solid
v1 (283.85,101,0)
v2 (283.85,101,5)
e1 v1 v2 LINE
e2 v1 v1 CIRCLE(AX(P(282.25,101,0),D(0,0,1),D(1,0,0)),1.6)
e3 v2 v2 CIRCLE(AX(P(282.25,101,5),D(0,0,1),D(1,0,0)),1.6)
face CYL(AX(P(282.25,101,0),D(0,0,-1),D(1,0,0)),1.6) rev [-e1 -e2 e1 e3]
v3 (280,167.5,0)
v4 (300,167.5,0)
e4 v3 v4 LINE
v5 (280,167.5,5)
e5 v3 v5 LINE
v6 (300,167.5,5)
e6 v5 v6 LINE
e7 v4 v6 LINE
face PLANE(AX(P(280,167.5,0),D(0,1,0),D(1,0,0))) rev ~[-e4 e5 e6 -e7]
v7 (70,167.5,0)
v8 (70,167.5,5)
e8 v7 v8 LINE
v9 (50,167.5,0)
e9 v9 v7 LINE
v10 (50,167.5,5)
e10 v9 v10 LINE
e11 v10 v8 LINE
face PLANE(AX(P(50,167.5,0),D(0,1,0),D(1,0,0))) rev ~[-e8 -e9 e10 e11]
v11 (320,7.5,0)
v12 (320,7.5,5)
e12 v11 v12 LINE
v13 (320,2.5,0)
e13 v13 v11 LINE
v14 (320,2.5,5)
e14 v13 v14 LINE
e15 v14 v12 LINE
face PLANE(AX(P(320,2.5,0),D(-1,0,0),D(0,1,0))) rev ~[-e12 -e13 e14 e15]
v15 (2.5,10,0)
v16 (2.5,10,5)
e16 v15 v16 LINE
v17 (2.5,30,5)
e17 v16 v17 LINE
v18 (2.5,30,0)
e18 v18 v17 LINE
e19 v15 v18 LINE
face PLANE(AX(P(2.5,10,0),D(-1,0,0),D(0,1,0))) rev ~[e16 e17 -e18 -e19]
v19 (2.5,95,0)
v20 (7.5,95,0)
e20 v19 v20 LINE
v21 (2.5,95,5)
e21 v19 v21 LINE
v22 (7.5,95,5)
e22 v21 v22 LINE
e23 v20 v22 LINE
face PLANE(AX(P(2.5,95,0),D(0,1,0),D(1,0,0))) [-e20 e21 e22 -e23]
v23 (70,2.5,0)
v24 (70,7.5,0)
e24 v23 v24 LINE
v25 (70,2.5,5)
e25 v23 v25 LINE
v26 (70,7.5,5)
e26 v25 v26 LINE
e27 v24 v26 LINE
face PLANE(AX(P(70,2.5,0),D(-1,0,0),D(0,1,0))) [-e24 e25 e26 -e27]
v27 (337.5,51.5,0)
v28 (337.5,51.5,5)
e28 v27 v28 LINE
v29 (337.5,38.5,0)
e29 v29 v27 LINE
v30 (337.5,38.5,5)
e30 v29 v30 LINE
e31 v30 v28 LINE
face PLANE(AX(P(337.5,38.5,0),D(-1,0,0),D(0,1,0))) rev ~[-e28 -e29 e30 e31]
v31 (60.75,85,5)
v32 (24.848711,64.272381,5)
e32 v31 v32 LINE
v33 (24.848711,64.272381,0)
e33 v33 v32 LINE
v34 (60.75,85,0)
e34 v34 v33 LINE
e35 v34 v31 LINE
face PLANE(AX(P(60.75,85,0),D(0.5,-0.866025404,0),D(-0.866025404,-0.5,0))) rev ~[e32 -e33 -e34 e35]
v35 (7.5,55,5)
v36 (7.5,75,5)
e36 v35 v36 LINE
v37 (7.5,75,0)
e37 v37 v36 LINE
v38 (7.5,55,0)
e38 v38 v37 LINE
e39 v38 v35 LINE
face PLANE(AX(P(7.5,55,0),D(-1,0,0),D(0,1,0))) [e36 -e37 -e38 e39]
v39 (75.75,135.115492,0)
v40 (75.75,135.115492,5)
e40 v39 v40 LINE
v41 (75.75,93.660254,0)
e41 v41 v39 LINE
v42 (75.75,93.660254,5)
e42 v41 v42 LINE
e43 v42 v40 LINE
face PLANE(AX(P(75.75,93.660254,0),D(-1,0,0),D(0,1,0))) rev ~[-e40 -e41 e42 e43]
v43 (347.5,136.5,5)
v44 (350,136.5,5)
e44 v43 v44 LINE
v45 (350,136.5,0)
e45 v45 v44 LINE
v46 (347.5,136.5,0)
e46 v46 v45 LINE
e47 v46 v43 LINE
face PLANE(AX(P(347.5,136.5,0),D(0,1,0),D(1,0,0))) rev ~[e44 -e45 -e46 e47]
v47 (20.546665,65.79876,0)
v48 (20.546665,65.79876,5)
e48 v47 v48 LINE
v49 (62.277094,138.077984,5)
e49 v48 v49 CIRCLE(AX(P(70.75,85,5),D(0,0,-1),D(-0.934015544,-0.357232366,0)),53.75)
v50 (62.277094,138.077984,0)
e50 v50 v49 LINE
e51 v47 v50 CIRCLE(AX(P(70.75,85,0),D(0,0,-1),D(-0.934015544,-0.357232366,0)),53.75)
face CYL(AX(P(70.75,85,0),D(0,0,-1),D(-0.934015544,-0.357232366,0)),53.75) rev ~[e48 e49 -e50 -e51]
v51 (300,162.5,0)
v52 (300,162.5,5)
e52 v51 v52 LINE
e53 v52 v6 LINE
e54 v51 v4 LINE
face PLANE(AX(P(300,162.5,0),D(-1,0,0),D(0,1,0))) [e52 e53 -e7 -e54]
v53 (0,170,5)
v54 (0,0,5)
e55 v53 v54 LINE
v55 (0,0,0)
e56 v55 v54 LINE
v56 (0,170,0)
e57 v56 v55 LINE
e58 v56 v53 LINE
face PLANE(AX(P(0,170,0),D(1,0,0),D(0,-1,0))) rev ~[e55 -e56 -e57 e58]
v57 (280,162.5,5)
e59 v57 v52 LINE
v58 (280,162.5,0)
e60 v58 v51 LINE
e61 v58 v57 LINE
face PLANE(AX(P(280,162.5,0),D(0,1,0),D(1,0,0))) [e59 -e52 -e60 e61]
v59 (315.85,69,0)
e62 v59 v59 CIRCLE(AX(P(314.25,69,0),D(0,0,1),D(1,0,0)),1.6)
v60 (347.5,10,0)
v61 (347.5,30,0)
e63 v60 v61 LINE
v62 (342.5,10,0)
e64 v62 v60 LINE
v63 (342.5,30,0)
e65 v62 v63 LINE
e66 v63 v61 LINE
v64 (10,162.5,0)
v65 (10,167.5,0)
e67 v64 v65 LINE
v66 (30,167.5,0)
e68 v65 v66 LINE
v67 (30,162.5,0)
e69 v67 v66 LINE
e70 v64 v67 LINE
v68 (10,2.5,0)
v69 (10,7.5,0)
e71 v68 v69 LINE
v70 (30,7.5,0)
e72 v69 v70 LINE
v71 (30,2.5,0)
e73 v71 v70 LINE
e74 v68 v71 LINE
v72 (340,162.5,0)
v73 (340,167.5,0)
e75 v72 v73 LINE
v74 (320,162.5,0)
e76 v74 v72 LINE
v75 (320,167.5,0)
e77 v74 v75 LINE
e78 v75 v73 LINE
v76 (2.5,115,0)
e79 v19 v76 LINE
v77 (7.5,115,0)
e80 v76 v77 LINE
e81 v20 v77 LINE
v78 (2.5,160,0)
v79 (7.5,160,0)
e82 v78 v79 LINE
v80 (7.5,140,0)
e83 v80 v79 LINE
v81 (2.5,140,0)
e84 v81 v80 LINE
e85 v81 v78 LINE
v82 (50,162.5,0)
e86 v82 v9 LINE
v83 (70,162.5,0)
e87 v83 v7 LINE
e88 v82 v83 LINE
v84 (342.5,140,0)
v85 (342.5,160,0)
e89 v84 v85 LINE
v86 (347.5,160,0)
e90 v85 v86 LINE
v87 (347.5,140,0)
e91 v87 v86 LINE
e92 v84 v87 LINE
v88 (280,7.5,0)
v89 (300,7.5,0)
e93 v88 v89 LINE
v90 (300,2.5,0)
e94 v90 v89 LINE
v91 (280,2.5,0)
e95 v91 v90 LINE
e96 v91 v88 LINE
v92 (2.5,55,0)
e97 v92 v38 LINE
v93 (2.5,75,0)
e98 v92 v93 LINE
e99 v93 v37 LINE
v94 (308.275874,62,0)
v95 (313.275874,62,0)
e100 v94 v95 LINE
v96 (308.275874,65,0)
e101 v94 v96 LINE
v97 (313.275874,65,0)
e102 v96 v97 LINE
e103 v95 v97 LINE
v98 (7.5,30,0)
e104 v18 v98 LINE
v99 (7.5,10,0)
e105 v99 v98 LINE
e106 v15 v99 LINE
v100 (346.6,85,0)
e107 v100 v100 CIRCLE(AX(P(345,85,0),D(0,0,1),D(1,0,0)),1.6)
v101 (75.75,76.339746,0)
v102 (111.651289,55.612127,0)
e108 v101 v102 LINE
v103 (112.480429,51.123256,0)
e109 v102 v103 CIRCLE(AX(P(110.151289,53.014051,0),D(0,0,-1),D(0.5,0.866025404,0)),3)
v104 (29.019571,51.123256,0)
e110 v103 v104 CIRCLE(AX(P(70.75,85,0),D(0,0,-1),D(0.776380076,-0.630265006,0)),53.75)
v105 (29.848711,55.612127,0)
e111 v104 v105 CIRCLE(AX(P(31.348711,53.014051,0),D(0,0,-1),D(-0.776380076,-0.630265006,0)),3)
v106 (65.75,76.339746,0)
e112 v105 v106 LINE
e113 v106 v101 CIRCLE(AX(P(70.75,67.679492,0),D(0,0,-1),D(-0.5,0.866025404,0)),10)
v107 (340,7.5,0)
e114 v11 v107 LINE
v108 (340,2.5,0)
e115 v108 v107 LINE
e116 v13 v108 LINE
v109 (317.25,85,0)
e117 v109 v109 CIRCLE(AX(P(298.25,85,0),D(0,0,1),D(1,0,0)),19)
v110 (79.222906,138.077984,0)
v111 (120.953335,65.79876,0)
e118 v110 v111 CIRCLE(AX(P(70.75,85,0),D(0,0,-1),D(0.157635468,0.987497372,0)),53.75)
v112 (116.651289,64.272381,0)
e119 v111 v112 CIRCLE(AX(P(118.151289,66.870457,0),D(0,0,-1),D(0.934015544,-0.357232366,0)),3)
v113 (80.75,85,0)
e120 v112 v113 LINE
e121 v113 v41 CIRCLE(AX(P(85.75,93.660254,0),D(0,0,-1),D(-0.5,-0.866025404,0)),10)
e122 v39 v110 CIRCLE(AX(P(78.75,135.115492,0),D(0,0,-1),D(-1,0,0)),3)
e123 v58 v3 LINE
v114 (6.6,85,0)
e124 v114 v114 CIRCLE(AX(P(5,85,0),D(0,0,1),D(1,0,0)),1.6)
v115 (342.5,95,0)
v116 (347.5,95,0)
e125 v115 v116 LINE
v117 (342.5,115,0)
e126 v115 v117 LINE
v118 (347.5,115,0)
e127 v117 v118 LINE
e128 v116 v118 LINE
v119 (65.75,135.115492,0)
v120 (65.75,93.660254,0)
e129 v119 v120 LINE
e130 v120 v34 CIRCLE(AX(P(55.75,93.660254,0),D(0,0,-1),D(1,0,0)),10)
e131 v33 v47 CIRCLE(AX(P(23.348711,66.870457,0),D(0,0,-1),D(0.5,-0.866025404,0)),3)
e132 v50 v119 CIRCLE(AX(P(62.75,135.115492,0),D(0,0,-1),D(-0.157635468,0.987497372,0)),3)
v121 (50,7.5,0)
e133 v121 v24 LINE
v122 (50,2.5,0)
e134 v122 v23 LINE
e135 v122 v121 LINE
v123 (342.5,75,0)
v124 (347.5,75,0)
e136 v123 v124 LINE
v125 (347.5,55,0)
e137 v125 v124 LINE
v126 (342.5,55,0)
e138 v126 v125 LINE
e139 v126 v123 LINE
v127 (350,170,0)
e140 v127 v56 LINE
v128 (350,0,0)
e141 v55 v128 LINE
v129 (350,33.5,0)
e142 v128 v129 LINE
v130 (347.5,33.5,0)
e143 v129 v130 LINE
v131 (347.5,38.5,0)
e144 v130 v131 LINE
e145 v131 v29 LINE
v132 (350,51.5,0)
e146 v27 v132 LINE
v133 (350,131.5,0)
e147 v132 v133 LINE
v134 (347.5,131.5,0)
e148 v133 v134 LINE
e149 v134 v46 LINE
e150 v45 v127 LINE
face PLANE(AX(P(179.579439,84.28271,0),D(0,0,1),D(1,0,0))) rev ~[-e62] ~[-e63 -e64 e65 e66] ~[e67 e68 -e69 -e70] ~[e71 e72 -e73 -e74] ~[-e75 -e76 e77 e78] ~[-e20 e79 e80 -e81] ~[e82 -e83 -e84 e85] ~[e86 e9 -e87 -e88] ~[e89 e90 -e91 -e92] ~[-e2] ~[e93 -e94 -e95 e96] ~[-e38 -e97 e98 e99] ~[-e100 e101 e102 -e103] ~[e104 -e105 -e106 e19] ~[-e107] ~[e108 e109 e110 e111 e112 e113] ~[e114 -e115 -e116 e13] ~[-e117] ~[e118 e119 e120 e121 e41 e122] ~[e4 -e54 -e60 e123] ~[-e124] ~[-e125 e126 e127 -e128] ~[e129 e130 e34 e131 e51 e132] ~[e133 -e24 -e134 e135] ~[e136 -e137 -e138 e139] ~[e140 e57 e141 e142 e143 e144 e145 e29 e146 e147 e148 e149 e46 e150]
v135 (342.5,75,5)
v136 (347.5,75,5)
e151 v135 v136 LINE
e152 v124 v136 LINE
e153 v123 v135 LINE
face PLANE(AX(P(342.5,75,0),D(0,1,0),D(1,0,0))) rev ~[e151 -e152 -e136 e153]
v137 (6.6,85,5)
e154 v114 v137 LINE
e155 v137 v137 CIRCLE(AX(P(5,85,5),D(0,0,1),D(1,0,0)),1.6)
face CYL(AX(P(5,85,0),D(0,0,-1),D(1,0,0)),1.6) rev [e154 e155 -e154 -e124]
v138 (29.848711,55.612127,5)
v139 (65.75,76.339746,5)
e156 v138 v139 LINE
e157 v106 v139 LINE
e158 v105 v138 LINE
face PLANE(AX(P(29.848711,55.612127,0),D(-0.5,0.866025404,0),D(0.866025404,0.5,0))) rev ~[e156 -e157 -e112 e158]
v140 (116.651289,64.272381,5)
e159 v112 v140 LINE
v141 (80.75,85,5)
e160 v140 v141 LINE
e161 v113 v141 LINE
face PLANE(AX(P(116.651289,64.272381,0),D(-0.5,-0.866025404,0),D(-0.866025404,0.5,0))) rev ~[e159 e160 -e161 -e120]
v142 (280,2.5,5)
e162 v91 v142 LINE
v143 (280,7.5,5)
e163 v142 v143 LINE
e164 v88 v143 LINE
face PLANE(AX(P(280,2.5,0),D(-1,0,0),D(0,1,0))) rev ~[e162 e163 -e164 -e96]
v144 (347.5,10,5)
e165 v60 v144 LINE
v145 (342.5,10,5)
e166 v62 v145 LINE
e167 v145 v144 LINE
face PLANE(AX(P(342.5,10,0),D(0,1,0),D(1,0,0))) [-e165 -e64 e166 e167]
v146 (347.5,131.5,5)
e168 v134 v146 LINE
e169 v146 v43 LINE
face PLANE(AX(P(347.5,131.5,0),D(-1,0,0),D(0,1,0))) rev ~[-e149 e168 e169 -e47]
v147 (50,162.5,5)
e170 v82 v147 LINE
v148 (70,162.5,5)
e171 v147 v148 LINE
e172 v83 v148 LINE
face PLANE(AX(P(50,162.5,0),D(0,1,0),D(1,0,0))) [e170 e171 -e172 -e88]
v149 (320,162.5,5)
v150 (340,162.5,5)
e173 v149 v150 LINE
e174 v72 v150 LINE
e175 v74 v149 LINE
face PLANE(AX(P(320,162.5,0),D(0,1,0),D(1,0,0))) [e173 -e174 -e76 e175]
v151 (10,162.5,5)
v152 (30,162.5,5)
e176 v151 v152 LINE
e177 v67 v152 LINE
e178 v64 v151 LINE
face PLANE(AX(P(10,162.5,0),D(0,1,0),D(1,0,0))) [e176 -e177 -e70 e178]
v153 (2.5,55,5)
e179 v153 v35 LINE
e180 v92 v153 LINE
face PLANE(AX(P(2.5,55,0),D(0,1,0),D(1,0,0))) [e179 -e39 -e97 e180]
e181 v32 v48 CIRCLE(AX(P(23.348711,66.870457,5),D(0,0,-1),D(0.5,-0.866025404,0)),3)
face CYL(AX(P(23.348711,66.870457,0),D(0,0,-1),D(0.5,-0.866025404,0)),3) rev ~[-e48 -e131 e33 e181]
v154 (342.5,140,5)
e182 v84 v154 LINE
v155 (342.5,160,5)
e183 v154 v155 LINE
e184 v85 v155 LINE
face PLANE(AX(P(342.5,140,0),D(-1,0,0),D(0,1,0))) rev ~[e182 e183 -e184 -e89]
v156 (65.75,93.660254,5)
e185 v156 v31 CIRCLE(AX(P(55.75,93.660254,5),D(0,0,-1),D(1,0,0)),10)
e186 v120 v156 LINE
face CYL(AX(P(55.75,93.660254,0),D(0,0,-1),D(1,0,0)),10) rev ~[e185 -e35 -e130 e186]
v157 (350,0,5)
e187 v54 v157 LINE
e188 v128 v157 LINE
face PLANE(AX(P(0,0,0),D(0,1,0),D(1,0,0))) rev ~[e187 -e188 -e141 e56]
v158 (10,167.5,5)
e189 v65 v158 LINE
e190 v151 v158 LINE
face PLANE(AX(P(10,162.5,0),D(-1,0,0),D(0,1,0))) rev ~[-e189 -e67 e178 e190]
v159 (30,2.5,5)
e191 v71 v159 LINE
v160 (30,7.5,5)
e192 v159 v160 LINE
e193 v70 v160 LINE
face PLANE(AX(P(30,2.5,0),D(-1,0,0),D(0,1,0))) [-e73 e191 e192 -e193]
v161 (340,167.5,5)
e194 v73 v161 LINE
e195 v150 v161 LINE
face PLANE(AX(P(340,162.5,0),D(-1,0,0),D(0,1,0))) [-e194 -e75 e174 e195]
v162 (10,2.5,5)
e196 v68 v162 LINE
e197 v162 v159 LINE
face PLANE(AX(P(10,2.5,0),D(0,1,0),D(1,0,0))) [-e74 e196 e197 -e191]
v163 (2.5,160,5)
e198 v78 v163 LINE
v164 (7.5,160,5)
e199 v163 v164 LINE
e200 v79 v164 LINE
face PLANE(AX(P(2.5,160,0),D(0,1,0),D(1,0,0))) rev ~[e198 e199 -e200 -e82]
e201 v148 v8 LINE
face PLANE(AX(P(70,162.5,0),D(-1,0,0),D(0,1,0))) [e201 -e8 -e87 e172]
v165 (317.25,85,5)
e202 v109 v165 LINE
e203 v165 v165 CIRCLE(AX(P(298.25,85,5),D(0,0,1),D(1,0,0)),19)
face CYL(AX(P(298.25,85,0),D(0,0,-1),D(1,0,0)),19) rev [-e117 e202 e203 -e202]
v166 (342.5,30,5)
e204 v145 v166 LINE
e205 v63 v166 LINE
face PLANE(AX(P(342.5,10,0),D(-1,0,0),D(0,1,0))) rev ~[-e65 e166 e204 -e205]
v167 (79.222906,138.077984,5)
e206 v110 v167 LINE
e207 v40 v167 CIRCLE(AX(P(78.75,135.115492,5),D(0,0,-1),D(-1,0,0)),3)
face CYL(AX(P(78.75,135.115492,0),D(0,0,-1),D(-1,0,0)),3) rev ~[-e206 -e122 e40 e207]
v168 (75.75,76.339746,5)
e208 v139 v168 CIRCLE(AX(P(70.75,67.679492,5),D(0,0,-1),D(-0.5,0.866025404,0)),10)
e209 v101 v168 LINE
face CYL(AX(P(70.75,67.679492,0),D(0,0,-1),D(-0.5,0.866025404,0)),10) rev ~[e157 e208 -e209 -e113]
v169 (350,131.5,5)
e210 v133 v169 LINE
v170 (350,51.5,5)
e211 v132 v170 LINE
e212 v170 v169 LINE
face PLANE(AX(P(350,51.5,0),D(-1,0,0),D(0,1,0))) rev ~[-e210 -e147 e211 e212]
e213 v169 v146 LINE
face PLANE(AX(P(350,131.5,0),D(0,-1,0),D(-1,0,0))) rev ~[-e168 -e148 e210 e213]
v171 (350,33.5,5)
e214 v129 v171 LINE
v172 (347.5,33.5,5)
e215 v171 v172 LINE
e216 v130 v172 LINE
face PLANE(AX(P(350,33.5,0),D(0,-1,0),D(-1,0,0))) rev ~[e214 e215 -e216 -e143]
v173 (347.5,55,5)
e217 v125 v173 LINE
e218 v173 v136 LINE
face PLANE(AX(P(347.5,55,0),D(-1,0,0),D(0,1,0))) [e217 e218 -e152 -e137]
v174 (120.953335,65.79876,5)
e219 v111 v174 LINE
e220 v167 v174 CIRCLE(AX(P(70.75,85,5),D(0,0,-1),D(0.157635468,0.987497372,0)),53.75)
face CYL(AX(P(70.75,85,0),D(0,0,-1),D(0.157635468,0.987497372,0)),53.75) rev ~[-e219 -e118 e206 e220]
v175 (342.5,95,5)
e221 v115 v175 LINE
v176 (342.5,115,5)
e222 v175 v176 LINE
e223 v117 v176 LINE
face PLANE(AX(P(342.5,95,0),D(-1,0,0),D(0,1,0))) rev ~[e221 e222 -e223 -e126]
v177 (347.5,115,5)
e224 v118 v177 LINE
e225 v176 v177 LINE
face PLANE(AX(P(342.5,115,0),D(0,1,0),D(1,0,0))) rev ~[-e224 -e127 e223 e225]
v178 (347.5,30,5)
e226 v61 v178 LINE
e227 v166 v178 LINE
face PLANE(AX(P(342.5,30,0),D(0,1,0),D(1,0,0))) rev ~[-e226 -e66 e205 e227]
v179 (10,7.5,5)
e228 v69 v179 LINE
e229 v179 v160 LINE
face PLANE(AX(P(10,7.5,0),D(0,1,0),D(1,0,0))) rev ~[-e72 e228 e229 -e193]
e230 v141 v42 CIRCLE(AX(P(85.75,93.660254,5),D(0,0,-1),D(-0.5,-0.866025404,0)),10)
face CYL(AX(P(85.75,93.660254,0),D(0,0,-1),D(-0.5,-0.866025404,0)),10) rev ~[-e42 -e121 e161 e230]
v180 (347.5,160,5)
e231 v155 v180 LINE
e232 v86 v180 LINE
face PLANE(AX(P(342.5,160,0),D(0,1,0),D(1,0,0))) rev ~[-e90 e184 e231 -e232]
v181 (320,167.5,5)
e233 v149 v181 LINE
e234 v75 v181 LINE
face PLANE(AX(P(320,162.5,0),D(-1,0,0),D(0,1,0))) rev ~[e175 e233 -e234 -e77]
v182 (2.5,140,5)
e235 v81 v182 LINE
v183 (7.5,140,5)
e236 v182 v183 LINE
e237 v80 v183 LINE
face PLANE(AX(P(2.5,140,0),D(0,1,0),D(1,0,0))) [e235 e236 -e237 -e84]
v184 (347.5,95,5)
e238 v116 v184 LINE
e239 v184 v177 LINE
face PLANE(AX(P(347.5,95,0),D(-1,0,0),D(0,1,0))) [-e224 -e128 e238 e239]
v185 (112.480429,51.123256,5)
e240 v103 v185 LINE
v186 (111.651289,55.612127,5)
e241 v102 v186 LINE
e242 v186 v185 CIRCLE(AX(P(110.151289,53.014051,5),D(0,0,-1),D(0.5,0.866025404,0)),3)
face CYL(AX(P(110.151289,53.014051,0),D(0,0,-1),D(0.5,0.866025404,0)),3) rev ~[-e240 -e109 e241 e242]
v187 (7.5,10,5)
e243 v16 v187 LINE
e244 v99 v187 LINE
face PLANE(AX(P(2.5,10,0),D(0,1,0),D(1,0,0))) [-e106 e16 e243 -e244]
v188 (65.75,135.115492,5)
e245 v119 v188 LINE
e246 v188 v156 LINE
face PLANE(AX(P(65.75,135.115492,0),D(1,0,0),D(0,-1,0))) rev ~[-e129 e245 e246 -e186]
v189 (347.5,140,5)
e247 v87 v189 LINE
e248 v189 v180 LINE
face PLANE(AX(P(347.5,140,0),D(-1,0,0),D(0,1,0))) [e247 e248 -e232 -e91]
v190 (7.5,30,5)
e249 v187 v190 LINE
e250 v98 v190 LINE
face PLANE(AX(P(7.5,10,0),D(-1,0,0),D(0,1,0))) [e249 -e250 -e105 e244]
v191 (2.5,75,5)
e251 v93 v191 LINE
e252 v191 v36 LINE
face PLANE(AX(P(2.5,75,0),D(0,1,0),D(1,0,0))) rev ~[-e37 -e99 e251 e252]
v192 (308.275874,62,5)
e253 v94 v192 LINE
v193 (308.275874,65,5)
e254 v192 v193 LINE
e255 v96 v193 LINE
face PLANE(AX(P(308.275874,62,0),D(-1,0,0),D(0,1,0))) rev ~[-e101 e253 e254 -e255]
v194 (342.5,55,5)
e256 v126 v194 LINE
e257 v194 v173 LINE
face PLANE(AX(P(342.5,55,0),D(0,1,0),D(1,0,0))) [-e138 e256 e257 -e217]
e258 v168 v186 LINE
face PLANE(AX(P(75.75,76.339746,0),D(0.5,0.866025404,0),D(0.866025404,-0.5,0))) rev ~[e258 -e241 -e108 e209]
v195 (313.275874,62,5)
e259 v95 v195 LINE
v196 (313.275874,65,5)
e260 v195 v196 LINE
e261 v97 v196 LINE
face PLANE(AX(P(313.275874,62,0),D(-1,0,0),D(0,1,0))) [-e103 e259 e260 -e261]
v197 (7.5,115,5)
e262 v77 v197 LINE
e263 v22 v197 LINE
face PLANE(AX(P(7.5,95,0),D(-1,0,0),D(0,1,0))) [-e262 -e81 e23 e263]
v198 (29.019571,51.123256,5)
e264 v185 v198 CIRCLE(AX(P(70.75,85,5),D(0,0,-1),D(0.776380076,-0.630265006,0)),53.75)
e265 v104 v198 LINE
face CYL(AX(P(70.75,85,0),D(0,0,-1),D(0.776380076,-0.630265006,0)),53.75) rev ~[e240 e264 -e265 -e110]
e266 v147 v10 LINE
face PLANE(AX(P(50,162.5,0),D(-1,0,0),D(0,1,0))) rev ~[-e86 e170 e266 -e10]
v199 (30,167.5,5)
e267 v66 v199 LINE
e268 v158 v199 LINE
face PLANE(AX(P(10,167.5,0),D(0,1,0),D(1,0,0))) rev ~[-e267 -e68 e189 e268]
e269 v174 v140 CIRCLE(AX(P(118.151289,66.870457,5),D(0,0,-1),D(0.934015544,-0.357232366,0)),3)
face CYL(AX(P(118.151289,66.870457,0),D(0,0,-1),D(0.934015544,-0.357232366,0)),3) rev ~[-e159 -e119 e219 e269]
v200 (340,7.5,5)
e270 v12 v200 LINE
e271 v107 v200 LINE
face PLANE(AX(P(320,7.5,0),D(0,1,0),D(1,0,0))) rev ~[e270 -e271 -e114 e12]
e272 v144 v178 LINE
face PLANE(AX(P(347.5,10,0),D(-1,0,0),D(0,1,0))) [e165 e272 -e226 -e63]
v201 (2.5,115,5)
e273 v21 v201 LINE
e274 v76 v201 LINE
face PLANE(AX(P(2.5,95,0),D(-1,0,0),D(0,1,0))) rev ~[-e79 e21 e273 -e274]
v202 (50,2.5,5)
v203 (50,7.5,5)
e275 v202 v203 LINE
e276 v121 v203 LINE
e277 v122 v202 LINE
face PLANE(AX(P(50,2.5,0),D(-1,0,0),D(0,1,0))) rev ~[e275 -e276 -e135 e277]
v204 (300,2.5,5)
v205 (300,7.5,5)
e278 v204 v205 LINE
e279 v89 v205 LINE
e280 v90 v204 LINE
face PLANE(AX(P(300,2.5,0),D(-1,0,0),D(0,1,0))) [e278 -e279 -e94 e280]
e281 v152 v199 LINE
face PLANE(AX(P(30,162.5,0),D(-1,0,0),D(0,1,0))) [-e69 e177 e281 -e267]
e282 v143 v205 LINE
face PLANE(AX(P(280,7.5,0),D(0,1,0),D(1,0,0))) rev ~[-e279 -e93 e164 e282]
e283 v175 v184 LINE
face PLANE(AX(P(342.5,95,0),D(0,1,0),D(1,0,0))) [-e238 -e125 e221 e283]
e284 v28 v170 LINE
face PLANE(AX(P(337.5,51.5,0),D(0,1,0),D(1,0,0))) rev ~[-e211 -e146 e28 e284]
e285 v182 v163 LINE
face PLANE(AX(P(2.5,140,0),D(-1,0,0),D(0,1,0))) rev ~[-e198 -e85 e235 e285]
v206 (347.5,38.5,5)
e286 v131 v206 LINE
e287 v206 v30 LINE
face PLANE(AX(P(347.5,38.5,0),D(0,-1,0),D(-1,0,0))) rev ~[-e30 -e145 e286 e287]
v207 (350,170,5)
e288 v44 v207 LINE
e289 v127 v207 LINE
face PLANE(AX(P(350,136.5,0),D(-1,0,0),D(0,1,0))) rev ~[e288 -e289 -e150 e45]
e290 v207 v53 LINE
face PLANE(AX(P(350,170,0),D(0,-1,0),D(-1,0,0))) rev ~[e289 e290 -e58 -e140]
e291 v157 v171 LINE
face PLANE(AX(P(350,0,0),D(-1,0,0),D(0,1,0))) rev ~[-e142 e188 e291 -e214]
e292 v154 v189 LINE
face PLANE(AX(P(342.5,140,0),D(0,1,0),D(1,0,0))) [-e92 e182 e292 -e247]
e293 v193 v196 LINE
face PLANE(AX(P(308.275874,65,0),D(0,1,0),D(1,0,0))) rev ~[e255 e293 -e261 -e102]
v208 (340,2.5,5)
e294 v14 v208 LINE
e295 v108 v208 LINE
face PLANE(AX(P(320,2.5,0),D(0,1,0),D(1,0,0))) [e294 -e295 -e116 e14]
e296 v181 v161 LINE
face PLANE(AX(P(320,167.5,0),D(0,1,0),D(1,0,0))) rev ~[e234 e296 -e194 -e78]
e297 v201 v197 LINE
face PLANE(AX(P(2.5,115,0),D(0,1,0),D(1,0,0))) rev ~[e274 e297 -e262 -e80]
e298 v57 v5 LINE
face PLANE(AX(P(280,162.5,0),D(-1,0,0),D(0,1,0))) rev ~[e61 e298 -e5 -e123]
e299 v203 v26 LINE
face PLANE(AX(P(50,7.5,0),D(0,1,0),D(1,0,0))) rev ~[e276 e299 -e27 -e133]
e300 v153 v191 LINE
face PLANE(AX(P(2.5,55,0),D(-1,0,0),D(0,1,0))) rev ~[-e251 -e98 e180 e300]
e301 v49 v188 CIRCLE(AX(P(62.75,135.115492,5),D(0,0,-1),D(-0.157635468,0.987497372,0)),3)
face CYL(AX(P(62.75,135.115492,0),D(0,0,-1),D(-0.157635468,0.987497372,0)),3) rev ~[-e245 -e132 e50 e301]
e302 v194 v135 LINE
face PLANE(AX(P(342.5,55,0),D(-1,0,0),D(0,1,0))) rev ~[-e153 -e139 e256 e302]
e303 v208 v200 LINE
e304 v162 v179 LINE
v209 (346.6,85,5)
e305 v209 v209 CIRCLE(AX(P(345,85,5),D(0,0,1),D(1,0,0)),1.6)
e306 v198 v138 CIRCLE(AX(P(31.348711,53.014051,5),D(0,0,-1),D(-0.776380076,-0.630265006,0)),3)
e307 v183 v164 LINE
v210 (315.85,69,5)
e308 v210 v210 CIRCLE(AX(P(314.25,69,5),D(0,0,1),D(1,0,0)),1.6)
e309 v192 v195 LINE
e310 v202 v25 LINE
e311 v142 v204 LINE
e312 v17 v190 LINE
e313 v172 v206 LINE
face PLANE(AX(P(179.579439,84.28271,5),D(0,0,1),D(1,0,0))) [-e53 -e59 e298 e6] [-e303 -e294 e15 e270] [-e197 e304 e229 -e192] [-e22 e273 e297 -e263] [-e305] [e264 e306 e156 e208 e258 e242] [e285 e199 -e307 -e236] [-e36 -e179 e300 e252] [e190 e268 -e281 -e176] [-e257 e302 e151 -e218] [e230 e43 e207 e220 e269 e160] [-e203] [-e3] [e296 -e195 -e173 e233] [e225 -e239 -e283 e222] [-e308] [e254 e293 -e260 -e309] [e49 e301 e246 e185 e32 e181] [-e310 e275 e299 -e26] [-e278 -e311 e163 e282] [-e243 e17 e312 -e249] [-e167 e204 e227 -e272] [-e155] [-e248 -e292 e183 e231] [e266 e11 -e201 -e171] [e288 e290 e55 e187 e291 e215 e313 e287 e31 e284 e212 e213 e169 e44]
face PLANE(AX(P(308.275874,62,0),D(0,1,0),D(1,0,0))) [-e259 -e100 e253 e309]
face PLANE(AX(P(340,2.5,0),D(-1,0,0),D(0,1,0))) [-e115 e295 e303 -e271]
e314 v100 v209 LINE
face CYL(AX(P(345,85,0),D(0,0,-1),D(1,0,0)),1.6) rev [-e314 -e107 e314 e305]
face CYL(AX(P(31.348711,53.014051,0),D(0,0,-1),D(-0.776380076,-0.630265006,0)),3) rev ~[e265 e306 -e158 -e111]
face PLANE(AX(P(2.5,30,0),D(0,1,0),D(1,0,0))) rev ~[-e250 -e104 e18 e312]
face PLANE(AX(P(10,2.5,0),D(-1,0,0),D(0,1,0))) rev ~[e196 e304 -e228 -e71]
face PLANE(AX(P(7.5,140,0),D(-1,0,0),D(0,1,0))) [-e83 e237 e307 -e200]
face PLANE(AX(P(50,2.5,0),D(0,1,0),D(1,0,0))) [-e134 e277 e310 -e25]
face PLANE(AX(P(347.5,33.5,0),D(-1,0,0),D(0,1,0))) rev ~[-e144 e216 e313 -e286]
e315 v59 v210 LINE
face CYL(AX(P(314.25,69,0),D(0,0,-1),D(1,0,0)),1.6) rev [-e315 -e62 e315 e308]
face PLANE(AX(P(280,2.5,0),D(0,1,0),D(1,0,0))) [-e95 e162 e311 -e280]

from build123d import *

# Parameters (mm, degrees)
F1_W     = 20
F1_H     = 5
F1_W_2   = 5
F1_H_2   = 20
F1_H_3   = 3
F1_R     = 1.6
F1_R_2   = 19
F2_DEPTH = 5


with BuildPart() as f2:
    # F1 (on Top) → F2 (new body)
    with BuildSketch(Plane.XY):
        Polygon((0, 170), (0, 0), (350, 0), (350, 33.5), (347.5, 33.5), (347.5, 38.5), (337.5, 38.5), (337.5, 51.5), (350, 51.5), (350, 131.5), (347.5, 131.5), (347.5, 136.5), (350, 136.5), (350, 170), align=None)
        with Locations((20, 5)):
            Rectangle(F1_W, F1_H, mode=Mode.SUBTRACT)
        with Locations((5, 20)):
            Rectangle(F1_W_2, F1_H_2, mode=Mode.SUBTRACT)
        with Locations((60, 5)):
            Rectangle(F1_W, F1_H, mode=Mode.SUBTRACT)
        with BuildLine():
            ThreePointArc((112.4804290917, 51.1232559442), (70.75, 31.25), (29.0195709083, 51.1232559442))
            ThreePointArc((29.0195709083, 51.1232559442), (28.3986145368, 53.5589638456), (29.8487111366, 55.6121271726))
            Line((29.8487111366, 55.6121271726), (65.75, 76.3397459622))
            ThreePointArc((65.75, 76.3397459622), (70.75, 77.6794919243), (75.75, 76.3397459622))
            Line((75.75, 76.3397459622), (111.6512888634, 55.6121271726))
            ThreePointArc((111.6512888634, 55.6121271726), (113.1013854632, 53.5589638456), (112.4804290917, 51.1232559442))
        make_face(mode=Mode.SUBTRACT)
        with Locations((5, 65)):
            Rectangle(F1_W_2, F1_H_2, mode=Mode.SUBTRACT)
        with Locations((290, 5)):
            Rectangle(F1_W, F1_H, mode=Mode.SUBTRACT)
        with Locations((330, 5)):
            Rectangle(F1_W, F1_H, mode=Mode.SUBTRACT)
        with Locations((345, 20)):
            Rectangle(F1_W_2, F1_H_2, mode=Mode.SUBTRACT)
        with Locations((310.775873661, 63.5)):
            Rectangle(F1_W_2, F1_H_3, mode=Mode.SUBTRACT)
        with Locations((314.25, 69)):
            Circle(F1_R, mode=Mode.SUBTRACT)
        with Locations((345, 65)):
            Rectangle(F1_W_2, F1_H_2, mode=Mode.SUBTRACT)
        with Locations((5, 85)):
            Circle(F1_R, mode=Mode.SUBTRACT)
        with Locations((5, 105)):
            Rectangle(F1_W_2, F1_H_2, mode=Mode.SUBTRACT)
        with BuildLine():
            Line((65.75, 135.1154916169), (65.75, 93.6602540378))
            ThreePointArc((65.75, 93.6602540378), (64.4102540378, 88.6602540378), (60.75, 85))
            Line((60.75, 85), (24.8487111366, 64.2723812105))
            ThreePointArc((24.8487111366, 64.2723812105), (22.3455712374, 64.0431423806), (20.5466645043, 65.7987603236))
            ThreePointArc((20.5466645043, 65.7987603236), (24.2011345466, 111.875), (62.2770935961, 138.0779837321))
            ThreePointArc((62.2770935961, 138.0779837321), (64.6969567006, 137.3978937738), (65.75, 135.1154916169))
        make_face(mode=Mode.SUBTRACT)
        with BuildLine():
            ThreePointArc((80.75, 85), (77.0897459622, 88.6602540378), (75.75, 93.6602540378))
            Line((75.75, 93.6602540378), (75.75, 135.1154916169))
            ThreePointArc((75.75, 135.1154916169), (76.8030432994, 137.3978937738), (79.2229064039, 138.0779837321))
            ThreePointArc((79.2229064039, 138.0779837321), (117.2988654534, 111.875), (120.9533354957, 65.7987603236))
            ThreePointArc((120.9533354957, 65.7987603236), (119.1544287626, 64.0431423806), (116.6512888634, 64.2723812105))
            Line((116.6512888634, 64.2723812105), (80.75, 85))
        make_face(mode=Mode.SUBTRACT)
        with Locations((5, 150)):
            Rectangle(F1_W_2, F1_H_2, mode=Mode.SUBTRACT)
        with Locations((20, 165)):
            Rectangle(F1_W, F1_H, mode=Mode.SUBTRACT)
        with Locations((60, 165)):
            Rectangle(F1_W, F1_H, mode=Mode.SUBTRACT)
        with Locations((298.25, 85)):
            Circle(F1_R_2, mode=Mode.SUBTRACT)
        with Locations((282.25, 101)):
            Circle(F1_R, mode=Mode.SUBTRACT)
        with Locations((345, 85)):
            Circle(F1_R, mode=Mode.SUBTRACT)
        with Locations((345, 105)):
            Rectangle(F1_W_2, F1_H_2, mode=Mode.SUBTRACT)
        with Locations((290, 165)):
            Rectangle(F1_W, F1_H, mode=Mode.SUBTRACT)
        with Locations((345, 150)):
            Rectangle(F1_W_2, F1_H_2, mode=Mode.SUBTRACT)
        with Locations((330, 165)):
            Rectangle(F1_W, F1_H, mode=Mode.SUBTRACT)
    extrude(amount=F2_DEPTH)


solid = f2.part
